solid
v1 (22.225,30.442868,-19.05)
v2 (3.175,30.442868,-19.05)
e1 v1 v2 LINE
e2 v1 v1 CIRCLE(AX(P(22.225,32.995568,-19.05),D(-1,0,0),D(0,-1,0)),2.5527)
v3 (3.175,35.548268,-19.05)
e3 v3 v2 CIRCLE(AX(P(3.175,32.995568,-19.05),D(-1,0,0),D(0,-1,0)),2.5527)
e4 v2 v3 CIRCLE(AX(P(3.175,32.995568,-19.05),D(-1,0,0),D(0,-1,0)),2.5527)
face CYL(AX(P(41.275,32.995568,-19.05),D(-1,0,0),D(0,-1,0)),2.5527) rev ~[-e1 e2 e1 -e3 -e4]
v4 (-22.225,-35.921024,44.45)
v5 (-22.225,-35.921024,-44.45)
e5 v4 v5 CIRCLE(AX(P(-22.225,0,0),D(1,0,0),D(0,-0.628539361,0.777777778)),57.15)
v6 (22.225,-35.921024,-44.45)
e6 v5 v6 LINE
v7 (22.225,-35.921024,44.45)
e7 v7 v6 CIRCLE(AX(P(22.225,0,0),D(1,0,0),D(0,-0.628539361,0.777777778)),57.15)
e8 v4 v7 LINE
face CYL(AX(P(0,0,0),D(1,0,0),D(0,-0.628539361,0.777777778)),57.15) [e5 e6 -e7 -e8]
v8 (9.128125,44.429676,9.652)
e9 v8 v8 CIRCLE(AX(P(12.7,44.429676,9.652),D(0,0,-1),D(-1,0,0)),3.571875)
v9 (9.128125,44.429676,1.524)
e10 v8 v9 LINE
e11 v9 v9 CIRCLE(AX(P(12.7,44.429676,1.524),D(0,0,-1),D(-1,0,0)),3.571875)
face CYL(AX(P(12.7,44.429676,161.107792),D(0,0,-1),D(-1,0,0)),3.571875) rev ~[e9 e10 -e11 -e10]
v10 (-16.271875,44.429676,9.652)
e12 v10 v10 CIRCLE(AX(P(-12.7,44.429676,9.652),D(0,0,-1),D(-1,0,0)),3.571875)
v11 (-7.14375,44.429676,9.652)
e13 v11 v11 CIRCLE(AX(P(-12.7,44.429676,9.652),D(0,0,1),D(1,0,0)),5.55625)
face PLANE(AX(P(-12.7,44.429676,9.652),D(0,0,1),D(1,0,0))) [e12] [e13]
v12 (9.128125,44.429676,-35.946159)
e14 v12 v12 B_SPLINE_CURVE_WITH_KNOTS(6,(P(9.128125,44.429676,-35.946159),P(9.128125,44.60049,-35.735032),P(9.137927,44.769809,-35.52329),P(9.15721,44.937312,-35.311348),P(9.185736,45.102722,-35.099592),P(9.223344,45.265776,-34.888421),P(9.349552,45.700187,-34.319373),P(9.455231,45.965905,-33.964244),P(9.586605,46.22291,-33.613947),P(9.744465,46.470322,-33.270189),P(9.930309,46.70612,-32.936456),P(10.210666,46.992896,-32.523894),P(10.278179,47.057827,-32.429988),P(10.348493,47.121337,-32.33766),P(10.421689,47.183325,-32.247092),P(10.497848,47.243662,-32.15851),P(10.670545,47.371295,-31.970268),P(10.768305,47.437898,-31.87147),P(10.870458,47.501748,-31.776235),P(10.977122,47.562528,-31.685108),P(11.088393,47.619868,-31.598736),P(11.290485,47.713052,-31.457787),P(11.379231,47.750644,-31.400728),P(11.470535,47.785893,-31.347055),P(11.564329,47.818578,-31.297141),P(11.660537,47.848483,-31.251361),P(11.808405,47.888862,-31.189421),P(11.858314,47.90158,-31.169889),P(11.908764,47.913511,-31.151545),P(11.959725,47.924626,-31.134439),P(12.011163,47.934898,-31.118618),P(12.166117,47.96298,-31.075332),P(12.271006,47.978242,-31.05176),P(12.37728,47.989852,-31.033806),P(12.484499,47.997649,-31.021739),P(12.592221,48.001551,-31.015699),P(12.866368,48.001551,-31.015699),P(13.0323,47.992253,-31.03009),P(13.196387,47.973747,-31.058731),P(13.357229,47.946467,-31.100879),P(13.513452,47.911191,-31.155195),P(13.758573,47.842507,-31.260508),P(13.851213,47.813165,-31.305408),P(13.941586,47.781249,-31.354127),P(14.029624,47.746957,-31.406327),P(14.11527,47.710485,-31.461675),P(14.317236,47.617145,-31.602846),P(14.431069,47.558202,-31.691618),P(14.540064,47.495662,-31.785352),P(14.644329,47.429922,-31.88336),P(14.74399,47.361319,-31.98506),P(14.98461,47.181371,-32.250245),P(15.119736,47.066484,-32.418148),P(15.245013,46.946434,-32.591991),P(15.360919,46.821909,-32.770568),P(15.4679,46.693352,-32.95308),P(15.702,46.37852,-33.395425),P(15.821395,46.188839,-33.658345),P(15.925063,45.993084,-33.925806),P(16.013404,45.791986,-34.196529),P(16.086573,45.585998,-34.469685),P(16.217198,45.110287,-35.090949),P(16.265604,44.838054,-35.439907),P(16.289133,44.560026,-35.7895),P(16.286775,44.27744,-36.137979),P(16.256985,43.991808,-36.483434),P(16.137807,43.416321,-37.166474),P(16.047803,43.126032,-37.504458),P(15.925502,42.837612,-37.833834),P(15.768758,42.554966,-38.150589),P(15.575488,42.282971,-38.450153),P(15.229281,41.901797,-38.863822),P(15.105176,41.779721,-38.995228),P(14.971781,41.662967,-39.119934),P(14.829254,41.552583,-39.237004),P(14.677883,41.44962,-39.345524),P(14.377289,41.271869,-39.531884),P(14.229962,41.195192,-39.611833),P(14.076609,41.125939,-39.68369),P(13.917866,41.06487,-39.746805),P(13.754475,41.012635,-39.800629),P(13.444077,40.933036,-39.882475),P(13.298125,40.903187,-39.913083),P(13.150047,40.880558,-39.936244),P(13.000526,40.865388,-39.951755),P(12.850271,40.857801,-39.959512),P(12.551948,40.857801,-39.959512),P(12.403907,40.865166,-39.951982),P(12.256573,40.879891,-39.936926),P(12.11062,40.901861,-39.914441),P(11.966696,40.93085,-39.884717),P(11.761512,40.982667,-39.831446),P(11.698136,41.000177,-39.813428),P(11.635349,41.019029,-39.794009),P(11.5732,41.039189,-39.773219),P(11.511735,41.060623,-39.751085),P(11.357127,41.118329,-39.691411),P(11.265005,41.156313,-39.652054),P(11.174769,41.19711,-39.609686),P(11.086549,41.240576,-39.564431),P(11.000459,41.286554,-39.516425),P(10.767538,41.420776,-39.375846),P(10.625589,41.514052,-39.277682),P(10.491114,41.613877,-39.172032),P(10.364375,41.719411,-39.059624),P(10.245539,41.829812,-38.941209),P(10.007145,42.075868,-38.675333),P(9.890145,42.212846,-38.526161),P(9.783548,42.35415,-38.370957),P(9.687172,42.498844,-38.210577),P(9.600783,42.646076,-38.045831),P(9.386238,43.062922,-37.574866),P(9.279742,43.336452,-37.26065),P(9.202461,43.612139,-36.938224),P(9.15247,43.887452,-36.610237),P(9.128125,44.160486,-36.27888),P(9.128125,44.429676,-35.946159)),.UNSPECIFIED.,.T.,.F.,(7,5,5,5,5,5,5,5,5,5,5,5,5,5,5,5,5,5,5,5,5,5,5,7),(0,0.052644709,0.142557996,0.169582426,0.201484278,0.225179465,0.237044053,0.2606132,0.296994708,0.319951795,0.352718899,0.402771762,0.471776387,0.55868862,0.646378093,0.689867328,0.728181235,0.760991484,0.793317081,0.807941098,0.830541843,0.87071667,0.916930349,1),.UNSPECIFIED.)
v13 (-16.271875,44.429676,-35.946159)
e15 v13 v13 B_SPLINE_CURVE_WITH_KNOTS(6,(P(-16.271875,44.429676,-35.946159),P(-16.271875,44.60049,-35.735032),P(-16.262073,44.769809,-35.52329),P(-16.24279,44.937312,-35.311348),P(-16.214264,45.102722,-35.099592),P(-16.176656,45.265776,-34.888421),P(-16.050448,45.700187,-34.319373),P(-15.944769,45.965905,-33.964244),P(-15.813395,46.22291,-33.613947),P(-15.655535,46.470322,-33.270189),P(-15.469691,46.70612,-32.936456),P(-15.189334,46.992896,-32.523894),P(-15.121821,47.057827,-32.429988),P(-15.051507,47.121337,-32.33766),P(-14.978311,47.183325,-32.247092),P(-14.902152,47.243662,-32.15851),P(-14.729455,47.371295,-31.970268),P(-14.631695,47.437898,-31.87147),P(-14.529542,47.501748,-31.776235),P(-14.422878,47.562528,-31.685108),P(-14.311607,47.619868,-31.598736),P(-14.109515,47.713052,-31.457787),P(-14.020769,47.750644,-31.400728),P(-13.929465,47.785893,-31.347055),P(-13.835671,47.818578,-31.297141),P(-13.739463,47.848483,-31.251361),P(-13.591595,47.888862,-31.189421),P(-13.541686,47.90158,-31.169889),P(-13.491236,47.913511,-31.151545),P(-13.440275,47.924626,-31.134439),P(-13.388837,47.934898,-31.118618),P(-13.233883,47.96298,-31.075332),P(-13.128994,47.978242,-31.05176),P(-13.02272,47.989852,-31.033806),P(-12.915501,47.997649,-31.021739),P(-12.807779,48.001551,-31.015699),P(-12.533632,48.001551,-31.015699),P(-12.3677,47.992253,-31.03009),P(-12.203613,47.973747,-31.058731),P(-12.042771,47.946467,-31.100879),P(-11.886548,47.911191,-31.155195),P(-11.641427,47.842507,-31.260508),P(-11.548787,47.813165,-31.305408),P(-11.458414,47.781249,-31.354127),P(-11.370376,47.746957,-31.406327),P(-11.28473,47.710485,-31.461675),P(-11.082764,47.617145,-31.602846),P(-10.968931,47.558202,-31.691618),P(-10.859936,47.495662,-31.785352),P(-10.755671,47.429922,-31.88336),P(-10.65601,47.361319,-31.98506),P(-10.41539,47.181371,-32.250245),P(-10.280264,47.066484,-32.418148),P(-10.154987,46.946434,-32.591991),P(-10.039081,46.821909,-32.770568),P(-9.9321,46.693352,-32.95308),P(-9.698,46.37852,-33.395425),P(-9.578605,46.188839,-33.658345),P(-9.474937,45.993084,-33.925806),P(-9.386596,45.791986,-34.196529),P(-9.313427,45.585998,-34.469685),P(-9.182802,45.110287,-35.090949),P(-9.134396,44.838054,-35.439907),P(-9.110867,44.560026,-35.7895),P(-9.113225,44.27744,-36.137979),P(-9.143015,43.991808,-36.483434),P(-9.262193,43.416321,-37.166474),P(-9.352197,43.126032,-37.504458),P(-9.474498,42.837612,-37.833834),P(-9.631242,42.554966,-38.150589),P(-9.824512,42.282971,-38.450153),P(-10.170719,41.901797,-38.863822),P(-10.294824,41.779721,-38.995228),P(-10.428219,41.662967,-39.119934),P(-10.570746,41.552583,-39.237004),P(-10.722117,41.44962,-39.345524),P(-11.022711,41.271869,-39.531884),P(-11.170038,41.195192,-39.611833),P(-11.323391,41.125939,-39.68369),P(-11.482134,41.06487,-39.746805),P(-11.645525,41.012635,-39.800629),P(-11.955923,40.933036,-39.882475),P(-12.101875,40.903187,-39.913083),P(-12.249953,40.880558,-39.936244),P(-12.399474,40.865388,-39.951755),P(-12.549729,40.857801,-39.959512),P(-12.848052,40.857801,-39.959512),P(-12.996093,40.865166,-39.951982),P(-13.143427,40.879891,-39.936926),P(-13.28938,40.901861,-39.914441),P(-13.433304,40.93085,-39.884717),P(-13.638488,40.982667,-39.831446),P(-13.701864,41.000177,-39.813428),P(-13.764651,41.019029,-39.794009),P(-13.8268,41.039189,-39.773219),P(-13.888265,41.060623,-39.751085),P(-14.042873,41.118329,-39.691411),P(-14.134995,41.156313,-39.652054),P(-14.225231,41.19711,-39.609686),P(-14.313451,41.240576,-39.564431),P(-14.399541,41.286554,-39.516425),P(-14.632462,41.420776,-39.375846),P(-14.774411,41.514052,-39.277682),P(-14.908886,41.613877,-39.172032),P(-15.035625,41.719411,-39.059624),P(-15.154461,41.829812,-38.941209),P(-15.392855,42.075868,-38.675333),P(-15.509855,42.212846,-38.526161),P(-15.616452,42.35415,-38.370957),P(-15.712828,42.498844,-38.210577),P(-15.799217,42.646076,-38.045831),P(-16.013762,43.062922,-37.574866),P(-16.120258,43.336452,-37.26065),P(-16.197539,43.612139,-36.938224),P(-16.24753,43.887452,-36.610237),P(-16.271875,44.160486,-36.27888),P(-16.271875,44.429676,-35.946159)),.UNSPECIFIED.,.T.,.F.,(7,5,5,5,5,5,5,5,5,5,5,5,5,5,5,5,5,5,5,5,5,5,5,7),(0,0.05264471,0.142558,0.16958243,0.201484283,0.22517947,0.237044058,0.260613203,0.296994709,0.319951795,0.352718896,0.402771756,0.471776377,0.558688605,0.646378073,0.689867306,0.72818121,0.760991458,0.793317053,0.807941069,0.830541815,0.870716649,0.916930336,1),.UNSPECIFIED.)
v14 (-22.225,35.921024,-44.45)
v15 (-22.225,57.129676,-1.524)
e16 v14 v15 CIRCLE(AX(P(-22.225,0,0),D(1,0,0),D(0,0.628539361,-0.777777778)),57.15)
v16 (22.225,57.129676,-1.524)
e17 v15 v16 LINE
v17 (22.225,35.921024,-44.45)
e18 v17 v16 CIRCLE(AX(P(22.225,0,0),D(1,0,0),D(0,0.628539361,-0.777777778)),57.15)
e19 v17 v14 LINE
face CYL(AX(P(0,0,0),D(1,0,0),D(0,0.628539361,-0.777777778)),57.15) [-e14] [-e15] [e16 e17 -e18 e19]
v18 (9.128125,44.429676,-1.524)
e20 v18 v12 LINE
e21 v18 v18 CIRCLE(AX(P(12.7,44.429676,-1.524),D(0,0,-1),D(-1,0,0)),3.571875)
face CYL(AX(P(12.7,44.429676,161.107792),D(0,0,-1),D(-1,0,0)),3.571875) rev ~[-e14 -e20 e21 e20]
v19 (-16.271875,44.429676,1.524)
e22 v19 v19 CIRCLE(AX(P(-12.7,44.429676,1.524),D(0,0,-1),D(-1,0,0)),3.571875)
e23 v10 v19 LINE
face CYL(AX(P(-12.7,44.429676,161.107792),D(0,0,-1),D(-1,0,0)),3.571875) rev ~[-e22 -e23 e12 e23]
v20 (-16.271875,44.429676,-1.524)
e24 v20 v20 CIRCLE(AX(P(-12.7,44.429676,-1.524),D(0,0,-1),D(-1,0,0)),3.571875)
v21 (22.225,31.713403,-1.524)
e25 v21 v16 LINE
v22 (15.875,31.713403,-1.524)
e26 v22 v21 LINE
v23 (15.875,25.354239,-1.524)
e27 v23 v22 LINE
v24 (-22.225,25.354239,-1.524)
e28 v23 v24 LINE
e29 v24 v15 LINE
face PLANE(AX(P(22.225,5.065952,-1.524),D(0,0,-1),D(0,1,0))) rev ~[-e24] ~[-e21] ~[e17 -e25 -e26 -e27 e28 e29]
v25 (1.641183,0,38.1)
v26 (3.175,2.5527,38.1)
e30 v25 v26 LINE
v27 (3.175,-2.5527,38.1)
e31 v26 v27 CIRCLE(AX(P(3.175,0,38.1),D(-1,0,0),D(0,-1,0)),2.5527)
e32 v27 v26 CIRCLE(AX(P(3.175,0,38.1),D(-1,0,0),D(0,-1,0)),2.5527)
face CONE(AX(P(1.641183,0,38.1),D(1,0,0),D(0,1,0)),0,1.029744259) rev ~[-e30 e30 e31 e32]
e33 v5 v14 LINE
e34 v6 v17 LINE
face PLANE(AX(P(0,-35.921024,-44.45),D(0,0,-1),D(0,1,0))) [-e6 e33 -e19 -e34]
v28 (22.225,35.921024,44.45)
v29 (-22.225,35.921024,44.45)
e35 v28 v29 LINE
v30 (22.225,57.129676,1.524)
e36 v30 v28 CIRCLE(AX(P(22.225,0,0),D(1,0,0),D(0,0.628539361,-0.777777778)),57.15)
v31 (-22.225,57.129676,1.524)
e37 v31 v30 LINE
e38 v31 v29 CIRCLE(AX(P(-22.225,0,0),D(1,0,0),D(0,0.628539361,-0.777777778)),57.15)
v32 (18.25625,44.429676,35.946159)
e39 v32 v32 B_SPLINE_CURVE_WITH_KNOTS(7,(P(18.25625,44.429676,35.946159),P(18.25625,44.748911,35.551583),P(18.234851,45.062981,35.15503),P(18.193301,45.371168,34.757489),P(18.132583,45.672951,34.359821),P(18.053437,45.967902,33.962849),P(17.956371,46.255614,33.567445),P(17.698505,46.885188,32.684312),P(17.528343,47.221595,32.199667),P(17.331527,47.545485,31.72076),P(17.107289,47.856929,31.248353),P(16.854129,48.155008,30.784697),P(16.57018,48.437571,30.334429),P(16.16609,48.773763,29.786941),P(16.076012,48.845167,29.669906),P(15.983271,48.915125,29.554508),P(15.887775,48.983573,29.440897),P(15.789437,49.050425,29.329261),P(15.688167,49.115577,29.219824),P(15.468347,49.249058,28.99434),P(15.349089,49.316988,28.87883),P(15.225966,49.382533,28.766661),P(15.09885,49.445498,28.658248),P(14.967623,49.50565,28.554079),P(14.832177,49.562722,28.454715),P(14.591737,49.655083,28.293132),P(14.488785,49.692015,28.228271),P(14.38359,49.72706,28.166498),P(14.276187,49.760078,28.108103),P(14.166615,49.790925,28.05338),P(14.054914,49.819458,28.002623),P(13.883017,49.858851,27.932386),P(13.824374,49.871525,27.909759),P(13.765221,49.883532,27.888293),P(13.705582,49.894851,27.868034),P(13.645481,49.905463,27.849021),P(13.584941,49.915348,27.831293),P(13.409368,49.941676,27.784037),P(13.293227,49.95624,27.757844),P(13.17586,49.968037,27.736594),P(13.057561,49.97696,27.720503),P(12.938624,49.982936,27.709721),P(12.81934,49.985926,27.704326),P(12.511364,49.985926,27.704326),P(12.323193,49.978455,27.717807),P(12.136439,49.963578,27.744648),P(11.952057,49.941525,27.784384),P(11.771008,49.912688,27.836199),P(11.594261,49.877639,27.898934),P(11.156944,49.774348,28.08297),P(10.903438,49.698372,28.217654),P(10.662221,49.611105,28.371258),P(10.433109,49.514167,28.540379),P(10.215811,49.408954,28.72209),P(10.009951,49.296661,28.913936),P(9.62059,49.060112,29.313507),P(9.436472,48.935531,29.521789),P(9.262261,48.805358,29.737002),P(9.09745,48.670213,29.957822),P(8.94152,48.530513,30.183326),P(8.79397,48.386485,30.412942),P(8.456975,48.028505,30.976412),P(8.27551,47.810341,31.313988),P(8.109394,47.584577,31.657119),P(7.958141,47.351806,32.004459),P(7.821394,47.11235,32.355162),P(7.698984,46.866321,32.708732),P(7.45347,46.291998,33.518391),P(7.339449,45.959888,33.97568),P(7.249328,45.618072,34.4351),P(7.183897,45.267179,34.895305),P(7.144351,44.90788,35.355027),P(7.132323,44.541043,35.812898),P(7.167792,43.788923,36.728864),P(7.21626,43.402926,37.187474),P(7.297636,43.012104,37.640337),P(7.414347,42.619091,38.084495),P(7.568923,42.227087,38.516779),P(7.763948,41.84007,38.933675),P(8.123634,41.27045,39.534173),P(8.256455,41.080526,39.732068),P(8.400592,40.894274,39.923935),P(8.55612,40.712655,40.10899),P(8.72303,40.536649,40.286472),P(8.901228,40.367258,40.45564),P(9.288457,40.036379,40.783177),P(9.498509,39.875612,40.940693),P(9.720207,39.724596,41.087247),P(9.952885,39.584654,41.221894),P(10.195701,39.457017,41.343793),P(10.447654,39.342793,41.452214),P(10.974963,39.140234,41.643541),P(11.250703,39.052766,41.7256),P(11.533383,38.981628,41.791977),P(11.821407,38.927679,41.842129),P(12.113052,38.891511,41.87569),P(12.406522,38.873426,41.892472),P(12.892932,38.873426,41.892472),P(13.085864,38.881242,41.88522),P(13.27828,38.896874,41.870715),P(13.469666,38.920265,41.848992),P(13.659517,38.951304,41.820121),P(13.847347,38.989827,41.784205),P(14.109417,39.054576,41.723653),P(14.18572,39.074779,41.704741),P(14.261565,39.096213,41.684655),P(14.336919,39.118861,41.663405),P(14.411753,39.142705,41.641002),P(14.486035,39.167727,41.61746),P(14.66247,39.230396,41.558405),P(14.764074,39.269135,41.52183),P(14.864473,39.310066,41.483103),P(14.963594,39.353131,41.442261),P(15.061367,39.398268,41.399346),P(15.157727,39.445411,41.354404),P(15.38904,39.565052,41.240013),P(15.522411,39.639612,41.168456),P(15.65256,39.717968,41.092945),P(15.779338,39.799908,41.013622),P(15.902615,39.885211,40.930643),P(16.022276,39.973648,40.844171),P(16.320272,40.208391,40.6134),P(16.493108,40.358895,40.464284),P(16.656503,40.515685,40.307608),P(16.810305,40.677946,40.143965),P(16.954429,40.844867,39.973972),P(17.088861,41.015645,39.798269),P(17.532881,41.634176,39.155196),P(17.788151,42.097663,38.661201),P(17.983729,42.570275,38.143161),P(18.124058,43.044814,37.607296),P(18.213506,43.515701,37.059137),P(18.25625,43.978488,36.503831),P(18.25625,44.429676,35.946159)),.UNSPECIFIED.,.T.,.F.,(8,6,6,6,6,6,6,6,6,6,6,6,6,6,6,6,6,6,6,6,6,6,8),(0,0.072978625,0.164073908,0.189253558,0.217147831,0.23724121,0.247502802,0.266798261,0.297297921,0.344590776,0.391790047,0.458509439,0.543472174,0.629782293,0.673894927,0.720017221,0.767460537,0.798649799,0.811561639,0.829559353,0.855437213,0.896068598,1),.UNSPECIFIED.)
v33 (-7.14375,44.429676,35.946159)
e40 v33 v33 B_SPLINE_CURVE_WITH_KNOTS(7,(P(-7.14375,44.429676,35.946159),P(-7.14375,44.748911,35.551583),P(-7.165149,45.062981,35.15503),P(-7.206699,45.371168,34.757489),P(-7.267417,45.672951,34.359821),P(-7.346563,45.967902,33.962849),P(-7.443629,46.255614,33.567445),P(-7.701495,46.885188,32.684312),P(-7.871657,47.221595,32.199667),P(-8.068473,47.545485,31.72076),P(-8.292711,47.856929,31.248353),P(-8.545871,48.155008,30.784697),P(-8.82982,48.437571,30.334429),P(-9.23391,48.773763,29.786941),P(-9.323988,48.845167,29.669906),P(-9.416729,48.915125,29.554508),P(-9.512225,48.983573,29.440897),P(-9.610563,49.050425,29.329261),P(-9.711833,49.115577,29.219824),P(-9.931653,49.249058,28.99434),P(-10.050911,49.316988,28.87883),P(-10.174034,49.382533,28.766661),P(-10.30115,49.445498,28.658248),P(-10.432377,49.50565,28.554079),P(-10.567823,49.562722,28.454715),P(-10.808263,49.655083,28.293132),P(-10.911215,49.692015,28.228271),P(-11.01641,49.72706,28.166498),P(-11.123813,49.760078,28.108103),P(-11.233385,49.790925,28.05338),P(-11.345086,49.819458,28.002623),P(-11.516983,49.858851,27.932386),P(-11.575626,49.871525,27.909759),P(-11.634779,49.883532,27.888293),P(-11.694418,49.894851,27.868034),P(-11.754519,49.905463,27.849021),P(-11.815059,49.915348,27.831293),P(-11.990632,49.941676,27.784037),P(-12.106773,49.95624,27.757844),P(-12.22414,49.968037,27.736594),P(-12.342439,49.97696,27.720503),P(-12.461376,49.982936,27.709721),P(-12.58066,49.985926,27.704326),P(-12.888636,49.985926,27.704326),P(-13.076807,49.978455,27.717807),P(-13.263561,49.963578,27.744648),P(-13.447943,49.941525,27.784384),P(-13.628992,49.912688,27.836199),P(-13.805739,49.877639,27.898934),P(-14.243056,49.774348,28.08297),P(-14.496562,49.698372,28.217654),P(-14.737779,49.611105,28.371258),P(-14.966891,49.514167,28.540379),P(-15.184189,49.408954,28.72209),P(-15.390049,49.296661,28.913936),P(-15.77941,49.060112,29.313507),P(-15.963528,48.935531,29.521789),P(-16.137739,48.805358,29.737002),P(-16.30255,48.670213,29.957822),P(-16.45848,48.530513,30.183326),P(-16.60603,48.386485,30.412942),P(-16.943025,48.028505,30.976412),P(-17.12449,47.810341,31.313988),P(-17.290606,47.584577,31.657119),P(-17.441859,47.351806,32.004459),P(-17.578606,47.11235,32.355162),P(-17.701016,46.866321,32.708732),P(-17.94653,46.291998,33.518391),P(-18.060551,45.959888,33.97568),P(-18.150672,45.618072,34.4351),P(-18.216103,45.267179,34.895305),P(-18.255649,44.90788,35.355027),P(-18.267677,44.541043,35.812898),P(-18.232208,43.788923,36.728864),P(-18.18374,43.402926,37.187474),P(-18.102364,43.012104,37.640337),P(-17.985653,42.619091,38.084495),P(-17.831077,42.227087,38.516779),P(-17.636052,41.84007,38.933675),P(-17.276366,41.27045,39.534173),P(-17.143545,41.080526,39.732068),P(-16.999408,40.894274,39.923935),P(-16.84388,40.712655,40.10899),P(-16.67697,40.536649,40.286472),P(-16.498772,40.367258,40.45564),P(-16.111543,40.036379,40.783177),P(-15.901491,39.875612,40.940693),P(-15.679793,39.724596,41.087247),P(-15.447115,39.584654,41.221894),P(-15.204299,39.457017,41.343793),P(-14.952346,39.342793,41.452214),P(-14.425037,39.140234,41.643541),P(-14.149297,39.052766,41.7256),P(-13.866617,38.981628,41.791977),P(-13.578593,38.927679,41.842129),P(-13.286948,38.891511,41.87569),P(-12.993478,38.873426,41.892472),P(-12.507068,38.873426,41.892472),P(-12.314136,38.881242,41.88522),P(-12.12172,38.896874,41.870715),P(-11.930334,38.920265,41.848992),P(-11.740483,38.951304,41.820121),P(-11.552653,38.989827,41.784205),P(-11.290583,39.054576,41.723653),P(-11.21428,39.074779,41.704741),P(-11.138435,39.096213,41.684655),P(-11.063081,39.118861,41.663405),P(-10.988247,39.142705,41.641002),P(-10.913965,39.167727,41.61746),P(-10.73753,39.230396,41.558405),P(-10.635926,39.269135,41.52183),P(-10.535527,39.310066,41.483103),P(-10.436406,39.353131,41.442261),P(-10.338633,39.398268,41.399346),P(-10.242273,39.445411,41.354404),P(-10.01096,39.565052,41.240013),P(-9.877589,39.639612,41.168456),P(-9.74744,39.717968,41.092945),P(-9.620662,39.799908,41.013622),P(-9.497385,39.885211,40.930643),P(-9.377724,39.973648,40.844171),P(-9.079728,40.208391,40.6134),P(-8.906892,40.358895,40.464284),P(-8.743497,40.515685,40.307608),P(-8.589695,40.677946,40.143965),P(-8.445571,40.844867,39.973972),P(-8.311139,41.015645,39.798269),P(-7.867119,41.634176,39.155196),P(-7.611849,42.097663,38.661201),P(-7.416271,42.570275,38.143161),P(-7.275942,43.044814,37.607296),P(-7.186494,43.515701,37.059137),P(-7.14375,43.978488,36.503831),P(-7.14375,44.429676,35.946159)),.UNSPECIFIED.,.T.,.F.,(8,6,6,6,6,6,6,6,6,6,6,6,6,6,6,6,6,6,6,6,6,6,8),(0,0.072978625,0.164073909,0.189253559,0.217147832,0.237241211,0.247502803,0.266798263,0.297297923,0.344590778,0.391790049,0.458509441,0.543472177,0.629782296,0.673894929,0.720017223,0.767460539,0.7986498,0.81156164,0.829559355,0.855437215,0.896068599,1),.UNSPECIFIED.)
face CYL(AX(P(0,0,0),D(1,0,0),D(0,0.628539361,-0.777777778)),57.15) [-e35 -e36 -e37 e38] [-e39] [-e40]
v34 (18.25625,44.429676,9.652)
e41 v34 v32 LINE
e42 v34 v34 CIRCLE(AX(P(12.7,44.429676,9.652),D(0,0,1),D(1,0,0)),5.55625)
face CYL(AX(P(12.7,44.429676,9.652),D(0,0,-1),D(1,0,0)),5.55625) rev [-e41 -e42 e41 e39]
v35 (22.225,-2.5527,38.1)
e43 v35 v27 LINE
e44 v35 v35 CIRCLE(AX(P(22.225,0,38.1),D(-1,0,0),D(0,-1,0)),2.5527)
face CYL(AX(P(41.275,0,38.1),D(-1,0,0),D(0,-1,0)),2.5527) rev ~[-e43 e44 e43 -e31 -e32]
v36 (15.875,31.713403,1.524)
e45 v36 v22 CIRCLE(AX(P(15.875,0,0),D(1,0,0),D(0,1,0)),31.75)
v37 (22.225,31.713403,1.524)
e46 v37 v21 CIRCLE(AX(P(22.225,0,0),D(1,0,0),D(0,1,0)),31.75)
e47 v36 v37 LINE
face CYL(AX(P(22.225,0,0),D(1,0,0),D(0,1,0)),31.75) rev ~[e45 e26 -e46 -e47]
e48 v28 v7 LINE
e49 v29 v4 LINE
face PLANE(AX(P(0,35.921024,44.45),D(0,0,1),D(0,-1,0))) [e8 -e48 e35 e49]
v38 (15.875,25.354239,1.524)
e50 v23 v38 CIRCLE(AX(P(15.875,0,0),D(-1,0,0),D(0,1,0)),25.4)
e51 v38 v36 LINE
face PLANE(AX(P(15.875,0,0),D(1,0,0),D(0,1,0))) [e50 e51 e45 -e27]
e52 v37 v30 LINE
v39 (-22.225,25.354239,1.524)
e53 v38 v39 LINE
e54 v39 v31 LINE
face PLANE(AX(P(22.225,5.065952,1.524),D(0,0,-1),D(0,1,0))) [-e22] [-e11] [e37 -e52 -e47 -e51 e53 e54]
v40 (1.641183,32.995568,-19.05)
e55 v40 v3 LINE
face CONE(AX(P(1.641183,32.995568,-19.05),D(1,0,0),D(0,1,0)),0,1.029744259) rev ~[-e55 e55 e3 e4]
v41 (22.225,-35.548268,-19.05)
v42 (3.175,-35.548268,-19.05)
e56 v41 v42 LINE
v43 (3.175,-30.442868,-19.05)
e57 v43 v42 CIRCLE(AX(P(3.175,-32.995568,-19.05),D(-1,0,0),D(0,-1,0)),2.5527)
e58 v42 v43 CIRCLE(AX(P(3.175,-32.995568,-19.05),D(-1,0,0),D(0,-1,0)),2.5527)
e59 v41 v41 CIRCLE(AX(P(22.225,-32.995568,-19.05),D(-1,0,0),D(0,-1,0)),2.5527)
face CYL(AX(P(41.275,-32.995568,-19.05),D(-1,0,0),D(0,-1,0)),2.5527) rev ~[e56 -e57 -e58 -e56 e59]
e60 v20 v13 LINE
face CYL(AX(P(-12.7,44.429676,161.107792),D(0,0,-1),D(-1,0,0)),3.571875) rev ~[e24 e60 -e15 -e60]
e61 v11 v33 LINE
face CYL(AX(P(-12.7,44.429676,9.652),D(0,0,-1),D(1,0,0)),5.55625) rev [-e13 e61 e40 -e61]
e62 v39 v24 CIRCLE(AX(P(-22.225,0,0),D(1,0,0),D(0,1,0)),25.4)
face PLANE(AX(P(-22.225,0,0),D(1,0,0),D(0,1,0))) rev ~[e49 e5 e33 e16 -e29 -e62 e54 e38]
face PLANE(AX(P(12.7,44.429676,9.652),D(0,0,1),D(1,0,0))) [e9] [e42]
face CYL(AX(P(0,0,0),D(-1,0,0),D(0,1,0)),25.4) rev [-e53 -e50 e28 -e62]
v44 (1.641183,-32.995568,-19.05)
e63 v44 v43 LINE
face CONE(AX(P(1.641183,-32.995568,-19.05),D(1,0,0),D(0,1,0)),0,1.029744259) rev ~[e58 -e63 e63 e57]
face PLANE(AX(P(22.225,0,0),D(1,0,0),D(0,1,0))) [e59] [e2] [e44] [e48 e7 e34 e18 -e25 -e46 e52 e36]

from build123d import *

# Parameters (mm, degrees)
F0_R      = 25.4
F1_DEPTH  = 22.225
F2_R      = 31.75
F3_DEPTH  = 6.35
F4_W      = 68.9518330619
F4_H      = 1.524
F5_DEPTH  = 44.451
F7_R      = 5.55625
F8_DEPTH  = 50.8
F10_D     = 7.14375
F12_D     = 5.1054
F12_DEPTH = 19.05
F12_TIP   = 1.5338169022


with BuildPart() as f1:
    # F0 (on Right) → F1 (new body, symmetric)
    with BuildSketch(Plane.YZ):
        with BuildLine():
            Line((35.9210244843, 44.45), (-35.9210244843, 44.45))
            ThreePointArc((-35.9210244843, 44.45), (-57.15, 0), (-35.9210244843, -44.45))
            Line((-35.9210244843, -44.45), (35.9210244843, -44.45))
            ThreePointArc((35.9210244843, -44.45), (57.15, 0), (35.9210244843, 44.45))
        make_face()
        Circle(F0_R, mode=Mode.SUBTRACT)
    extrude(amount=F1_DEPTH, both=True)

    # F2 (on face) → F3 (cut)
    with BuildSketch(Plane.YZ.offset(22.225)):
        Circle(F2_R)
    extrude(amount=-F3_DEPTH, mode=Mode.SUBTRACT)

    # F4 (on face) → F5 (cut, through all)
    with BuildSketch(Plane.YZ.offset(22.225)):
        with Locations((39.5418689586, 0.762)):
            Rectangle(F4_W, F4_H)
        with Locations((39.5418689586, -0.762)):
            Rectangle(F4_W, F4_H)
    extrude(amount=-F5_DEPTH, mode=Mode.SUBTRACT)

    # F7 (on offset) → F8 (cut)
    with BuildSketch(Plane.XY.offset(9.652)):
        with Locations((12.7, 44.4296763863)):
            Circle(F7_R)
        with Locations((-12.7, 44.4296763863)):
            Circle(F7_R)
    extrude(amount=F8_DEPTH, mode=Mode.SUBTRACT)

    # F10 (through all)
    with Locations(Plane.XY.offset(9.652)):
        with Locations((-12.7, 44.4296763863), (12.7, 44.4296763863)):
            Hole(F10_D / 2)

    # F12
    with Locations(Plane.YZ.offset(22.225)):
        with Locations((0, 38.1), (32.9955678842, -19.05), (-32.9955678842, -19.05)):
            Hole(F12_D / 2, depth=F12_DEPTH)
            with Locations((0, 0, -(F12_DEPTH + F12_TIP / 2))):  # 118° drill point
                Cone(0, F12_D / 2, F12_TIP, mode=Mode.SUBTRACT)


solid = f1.part
